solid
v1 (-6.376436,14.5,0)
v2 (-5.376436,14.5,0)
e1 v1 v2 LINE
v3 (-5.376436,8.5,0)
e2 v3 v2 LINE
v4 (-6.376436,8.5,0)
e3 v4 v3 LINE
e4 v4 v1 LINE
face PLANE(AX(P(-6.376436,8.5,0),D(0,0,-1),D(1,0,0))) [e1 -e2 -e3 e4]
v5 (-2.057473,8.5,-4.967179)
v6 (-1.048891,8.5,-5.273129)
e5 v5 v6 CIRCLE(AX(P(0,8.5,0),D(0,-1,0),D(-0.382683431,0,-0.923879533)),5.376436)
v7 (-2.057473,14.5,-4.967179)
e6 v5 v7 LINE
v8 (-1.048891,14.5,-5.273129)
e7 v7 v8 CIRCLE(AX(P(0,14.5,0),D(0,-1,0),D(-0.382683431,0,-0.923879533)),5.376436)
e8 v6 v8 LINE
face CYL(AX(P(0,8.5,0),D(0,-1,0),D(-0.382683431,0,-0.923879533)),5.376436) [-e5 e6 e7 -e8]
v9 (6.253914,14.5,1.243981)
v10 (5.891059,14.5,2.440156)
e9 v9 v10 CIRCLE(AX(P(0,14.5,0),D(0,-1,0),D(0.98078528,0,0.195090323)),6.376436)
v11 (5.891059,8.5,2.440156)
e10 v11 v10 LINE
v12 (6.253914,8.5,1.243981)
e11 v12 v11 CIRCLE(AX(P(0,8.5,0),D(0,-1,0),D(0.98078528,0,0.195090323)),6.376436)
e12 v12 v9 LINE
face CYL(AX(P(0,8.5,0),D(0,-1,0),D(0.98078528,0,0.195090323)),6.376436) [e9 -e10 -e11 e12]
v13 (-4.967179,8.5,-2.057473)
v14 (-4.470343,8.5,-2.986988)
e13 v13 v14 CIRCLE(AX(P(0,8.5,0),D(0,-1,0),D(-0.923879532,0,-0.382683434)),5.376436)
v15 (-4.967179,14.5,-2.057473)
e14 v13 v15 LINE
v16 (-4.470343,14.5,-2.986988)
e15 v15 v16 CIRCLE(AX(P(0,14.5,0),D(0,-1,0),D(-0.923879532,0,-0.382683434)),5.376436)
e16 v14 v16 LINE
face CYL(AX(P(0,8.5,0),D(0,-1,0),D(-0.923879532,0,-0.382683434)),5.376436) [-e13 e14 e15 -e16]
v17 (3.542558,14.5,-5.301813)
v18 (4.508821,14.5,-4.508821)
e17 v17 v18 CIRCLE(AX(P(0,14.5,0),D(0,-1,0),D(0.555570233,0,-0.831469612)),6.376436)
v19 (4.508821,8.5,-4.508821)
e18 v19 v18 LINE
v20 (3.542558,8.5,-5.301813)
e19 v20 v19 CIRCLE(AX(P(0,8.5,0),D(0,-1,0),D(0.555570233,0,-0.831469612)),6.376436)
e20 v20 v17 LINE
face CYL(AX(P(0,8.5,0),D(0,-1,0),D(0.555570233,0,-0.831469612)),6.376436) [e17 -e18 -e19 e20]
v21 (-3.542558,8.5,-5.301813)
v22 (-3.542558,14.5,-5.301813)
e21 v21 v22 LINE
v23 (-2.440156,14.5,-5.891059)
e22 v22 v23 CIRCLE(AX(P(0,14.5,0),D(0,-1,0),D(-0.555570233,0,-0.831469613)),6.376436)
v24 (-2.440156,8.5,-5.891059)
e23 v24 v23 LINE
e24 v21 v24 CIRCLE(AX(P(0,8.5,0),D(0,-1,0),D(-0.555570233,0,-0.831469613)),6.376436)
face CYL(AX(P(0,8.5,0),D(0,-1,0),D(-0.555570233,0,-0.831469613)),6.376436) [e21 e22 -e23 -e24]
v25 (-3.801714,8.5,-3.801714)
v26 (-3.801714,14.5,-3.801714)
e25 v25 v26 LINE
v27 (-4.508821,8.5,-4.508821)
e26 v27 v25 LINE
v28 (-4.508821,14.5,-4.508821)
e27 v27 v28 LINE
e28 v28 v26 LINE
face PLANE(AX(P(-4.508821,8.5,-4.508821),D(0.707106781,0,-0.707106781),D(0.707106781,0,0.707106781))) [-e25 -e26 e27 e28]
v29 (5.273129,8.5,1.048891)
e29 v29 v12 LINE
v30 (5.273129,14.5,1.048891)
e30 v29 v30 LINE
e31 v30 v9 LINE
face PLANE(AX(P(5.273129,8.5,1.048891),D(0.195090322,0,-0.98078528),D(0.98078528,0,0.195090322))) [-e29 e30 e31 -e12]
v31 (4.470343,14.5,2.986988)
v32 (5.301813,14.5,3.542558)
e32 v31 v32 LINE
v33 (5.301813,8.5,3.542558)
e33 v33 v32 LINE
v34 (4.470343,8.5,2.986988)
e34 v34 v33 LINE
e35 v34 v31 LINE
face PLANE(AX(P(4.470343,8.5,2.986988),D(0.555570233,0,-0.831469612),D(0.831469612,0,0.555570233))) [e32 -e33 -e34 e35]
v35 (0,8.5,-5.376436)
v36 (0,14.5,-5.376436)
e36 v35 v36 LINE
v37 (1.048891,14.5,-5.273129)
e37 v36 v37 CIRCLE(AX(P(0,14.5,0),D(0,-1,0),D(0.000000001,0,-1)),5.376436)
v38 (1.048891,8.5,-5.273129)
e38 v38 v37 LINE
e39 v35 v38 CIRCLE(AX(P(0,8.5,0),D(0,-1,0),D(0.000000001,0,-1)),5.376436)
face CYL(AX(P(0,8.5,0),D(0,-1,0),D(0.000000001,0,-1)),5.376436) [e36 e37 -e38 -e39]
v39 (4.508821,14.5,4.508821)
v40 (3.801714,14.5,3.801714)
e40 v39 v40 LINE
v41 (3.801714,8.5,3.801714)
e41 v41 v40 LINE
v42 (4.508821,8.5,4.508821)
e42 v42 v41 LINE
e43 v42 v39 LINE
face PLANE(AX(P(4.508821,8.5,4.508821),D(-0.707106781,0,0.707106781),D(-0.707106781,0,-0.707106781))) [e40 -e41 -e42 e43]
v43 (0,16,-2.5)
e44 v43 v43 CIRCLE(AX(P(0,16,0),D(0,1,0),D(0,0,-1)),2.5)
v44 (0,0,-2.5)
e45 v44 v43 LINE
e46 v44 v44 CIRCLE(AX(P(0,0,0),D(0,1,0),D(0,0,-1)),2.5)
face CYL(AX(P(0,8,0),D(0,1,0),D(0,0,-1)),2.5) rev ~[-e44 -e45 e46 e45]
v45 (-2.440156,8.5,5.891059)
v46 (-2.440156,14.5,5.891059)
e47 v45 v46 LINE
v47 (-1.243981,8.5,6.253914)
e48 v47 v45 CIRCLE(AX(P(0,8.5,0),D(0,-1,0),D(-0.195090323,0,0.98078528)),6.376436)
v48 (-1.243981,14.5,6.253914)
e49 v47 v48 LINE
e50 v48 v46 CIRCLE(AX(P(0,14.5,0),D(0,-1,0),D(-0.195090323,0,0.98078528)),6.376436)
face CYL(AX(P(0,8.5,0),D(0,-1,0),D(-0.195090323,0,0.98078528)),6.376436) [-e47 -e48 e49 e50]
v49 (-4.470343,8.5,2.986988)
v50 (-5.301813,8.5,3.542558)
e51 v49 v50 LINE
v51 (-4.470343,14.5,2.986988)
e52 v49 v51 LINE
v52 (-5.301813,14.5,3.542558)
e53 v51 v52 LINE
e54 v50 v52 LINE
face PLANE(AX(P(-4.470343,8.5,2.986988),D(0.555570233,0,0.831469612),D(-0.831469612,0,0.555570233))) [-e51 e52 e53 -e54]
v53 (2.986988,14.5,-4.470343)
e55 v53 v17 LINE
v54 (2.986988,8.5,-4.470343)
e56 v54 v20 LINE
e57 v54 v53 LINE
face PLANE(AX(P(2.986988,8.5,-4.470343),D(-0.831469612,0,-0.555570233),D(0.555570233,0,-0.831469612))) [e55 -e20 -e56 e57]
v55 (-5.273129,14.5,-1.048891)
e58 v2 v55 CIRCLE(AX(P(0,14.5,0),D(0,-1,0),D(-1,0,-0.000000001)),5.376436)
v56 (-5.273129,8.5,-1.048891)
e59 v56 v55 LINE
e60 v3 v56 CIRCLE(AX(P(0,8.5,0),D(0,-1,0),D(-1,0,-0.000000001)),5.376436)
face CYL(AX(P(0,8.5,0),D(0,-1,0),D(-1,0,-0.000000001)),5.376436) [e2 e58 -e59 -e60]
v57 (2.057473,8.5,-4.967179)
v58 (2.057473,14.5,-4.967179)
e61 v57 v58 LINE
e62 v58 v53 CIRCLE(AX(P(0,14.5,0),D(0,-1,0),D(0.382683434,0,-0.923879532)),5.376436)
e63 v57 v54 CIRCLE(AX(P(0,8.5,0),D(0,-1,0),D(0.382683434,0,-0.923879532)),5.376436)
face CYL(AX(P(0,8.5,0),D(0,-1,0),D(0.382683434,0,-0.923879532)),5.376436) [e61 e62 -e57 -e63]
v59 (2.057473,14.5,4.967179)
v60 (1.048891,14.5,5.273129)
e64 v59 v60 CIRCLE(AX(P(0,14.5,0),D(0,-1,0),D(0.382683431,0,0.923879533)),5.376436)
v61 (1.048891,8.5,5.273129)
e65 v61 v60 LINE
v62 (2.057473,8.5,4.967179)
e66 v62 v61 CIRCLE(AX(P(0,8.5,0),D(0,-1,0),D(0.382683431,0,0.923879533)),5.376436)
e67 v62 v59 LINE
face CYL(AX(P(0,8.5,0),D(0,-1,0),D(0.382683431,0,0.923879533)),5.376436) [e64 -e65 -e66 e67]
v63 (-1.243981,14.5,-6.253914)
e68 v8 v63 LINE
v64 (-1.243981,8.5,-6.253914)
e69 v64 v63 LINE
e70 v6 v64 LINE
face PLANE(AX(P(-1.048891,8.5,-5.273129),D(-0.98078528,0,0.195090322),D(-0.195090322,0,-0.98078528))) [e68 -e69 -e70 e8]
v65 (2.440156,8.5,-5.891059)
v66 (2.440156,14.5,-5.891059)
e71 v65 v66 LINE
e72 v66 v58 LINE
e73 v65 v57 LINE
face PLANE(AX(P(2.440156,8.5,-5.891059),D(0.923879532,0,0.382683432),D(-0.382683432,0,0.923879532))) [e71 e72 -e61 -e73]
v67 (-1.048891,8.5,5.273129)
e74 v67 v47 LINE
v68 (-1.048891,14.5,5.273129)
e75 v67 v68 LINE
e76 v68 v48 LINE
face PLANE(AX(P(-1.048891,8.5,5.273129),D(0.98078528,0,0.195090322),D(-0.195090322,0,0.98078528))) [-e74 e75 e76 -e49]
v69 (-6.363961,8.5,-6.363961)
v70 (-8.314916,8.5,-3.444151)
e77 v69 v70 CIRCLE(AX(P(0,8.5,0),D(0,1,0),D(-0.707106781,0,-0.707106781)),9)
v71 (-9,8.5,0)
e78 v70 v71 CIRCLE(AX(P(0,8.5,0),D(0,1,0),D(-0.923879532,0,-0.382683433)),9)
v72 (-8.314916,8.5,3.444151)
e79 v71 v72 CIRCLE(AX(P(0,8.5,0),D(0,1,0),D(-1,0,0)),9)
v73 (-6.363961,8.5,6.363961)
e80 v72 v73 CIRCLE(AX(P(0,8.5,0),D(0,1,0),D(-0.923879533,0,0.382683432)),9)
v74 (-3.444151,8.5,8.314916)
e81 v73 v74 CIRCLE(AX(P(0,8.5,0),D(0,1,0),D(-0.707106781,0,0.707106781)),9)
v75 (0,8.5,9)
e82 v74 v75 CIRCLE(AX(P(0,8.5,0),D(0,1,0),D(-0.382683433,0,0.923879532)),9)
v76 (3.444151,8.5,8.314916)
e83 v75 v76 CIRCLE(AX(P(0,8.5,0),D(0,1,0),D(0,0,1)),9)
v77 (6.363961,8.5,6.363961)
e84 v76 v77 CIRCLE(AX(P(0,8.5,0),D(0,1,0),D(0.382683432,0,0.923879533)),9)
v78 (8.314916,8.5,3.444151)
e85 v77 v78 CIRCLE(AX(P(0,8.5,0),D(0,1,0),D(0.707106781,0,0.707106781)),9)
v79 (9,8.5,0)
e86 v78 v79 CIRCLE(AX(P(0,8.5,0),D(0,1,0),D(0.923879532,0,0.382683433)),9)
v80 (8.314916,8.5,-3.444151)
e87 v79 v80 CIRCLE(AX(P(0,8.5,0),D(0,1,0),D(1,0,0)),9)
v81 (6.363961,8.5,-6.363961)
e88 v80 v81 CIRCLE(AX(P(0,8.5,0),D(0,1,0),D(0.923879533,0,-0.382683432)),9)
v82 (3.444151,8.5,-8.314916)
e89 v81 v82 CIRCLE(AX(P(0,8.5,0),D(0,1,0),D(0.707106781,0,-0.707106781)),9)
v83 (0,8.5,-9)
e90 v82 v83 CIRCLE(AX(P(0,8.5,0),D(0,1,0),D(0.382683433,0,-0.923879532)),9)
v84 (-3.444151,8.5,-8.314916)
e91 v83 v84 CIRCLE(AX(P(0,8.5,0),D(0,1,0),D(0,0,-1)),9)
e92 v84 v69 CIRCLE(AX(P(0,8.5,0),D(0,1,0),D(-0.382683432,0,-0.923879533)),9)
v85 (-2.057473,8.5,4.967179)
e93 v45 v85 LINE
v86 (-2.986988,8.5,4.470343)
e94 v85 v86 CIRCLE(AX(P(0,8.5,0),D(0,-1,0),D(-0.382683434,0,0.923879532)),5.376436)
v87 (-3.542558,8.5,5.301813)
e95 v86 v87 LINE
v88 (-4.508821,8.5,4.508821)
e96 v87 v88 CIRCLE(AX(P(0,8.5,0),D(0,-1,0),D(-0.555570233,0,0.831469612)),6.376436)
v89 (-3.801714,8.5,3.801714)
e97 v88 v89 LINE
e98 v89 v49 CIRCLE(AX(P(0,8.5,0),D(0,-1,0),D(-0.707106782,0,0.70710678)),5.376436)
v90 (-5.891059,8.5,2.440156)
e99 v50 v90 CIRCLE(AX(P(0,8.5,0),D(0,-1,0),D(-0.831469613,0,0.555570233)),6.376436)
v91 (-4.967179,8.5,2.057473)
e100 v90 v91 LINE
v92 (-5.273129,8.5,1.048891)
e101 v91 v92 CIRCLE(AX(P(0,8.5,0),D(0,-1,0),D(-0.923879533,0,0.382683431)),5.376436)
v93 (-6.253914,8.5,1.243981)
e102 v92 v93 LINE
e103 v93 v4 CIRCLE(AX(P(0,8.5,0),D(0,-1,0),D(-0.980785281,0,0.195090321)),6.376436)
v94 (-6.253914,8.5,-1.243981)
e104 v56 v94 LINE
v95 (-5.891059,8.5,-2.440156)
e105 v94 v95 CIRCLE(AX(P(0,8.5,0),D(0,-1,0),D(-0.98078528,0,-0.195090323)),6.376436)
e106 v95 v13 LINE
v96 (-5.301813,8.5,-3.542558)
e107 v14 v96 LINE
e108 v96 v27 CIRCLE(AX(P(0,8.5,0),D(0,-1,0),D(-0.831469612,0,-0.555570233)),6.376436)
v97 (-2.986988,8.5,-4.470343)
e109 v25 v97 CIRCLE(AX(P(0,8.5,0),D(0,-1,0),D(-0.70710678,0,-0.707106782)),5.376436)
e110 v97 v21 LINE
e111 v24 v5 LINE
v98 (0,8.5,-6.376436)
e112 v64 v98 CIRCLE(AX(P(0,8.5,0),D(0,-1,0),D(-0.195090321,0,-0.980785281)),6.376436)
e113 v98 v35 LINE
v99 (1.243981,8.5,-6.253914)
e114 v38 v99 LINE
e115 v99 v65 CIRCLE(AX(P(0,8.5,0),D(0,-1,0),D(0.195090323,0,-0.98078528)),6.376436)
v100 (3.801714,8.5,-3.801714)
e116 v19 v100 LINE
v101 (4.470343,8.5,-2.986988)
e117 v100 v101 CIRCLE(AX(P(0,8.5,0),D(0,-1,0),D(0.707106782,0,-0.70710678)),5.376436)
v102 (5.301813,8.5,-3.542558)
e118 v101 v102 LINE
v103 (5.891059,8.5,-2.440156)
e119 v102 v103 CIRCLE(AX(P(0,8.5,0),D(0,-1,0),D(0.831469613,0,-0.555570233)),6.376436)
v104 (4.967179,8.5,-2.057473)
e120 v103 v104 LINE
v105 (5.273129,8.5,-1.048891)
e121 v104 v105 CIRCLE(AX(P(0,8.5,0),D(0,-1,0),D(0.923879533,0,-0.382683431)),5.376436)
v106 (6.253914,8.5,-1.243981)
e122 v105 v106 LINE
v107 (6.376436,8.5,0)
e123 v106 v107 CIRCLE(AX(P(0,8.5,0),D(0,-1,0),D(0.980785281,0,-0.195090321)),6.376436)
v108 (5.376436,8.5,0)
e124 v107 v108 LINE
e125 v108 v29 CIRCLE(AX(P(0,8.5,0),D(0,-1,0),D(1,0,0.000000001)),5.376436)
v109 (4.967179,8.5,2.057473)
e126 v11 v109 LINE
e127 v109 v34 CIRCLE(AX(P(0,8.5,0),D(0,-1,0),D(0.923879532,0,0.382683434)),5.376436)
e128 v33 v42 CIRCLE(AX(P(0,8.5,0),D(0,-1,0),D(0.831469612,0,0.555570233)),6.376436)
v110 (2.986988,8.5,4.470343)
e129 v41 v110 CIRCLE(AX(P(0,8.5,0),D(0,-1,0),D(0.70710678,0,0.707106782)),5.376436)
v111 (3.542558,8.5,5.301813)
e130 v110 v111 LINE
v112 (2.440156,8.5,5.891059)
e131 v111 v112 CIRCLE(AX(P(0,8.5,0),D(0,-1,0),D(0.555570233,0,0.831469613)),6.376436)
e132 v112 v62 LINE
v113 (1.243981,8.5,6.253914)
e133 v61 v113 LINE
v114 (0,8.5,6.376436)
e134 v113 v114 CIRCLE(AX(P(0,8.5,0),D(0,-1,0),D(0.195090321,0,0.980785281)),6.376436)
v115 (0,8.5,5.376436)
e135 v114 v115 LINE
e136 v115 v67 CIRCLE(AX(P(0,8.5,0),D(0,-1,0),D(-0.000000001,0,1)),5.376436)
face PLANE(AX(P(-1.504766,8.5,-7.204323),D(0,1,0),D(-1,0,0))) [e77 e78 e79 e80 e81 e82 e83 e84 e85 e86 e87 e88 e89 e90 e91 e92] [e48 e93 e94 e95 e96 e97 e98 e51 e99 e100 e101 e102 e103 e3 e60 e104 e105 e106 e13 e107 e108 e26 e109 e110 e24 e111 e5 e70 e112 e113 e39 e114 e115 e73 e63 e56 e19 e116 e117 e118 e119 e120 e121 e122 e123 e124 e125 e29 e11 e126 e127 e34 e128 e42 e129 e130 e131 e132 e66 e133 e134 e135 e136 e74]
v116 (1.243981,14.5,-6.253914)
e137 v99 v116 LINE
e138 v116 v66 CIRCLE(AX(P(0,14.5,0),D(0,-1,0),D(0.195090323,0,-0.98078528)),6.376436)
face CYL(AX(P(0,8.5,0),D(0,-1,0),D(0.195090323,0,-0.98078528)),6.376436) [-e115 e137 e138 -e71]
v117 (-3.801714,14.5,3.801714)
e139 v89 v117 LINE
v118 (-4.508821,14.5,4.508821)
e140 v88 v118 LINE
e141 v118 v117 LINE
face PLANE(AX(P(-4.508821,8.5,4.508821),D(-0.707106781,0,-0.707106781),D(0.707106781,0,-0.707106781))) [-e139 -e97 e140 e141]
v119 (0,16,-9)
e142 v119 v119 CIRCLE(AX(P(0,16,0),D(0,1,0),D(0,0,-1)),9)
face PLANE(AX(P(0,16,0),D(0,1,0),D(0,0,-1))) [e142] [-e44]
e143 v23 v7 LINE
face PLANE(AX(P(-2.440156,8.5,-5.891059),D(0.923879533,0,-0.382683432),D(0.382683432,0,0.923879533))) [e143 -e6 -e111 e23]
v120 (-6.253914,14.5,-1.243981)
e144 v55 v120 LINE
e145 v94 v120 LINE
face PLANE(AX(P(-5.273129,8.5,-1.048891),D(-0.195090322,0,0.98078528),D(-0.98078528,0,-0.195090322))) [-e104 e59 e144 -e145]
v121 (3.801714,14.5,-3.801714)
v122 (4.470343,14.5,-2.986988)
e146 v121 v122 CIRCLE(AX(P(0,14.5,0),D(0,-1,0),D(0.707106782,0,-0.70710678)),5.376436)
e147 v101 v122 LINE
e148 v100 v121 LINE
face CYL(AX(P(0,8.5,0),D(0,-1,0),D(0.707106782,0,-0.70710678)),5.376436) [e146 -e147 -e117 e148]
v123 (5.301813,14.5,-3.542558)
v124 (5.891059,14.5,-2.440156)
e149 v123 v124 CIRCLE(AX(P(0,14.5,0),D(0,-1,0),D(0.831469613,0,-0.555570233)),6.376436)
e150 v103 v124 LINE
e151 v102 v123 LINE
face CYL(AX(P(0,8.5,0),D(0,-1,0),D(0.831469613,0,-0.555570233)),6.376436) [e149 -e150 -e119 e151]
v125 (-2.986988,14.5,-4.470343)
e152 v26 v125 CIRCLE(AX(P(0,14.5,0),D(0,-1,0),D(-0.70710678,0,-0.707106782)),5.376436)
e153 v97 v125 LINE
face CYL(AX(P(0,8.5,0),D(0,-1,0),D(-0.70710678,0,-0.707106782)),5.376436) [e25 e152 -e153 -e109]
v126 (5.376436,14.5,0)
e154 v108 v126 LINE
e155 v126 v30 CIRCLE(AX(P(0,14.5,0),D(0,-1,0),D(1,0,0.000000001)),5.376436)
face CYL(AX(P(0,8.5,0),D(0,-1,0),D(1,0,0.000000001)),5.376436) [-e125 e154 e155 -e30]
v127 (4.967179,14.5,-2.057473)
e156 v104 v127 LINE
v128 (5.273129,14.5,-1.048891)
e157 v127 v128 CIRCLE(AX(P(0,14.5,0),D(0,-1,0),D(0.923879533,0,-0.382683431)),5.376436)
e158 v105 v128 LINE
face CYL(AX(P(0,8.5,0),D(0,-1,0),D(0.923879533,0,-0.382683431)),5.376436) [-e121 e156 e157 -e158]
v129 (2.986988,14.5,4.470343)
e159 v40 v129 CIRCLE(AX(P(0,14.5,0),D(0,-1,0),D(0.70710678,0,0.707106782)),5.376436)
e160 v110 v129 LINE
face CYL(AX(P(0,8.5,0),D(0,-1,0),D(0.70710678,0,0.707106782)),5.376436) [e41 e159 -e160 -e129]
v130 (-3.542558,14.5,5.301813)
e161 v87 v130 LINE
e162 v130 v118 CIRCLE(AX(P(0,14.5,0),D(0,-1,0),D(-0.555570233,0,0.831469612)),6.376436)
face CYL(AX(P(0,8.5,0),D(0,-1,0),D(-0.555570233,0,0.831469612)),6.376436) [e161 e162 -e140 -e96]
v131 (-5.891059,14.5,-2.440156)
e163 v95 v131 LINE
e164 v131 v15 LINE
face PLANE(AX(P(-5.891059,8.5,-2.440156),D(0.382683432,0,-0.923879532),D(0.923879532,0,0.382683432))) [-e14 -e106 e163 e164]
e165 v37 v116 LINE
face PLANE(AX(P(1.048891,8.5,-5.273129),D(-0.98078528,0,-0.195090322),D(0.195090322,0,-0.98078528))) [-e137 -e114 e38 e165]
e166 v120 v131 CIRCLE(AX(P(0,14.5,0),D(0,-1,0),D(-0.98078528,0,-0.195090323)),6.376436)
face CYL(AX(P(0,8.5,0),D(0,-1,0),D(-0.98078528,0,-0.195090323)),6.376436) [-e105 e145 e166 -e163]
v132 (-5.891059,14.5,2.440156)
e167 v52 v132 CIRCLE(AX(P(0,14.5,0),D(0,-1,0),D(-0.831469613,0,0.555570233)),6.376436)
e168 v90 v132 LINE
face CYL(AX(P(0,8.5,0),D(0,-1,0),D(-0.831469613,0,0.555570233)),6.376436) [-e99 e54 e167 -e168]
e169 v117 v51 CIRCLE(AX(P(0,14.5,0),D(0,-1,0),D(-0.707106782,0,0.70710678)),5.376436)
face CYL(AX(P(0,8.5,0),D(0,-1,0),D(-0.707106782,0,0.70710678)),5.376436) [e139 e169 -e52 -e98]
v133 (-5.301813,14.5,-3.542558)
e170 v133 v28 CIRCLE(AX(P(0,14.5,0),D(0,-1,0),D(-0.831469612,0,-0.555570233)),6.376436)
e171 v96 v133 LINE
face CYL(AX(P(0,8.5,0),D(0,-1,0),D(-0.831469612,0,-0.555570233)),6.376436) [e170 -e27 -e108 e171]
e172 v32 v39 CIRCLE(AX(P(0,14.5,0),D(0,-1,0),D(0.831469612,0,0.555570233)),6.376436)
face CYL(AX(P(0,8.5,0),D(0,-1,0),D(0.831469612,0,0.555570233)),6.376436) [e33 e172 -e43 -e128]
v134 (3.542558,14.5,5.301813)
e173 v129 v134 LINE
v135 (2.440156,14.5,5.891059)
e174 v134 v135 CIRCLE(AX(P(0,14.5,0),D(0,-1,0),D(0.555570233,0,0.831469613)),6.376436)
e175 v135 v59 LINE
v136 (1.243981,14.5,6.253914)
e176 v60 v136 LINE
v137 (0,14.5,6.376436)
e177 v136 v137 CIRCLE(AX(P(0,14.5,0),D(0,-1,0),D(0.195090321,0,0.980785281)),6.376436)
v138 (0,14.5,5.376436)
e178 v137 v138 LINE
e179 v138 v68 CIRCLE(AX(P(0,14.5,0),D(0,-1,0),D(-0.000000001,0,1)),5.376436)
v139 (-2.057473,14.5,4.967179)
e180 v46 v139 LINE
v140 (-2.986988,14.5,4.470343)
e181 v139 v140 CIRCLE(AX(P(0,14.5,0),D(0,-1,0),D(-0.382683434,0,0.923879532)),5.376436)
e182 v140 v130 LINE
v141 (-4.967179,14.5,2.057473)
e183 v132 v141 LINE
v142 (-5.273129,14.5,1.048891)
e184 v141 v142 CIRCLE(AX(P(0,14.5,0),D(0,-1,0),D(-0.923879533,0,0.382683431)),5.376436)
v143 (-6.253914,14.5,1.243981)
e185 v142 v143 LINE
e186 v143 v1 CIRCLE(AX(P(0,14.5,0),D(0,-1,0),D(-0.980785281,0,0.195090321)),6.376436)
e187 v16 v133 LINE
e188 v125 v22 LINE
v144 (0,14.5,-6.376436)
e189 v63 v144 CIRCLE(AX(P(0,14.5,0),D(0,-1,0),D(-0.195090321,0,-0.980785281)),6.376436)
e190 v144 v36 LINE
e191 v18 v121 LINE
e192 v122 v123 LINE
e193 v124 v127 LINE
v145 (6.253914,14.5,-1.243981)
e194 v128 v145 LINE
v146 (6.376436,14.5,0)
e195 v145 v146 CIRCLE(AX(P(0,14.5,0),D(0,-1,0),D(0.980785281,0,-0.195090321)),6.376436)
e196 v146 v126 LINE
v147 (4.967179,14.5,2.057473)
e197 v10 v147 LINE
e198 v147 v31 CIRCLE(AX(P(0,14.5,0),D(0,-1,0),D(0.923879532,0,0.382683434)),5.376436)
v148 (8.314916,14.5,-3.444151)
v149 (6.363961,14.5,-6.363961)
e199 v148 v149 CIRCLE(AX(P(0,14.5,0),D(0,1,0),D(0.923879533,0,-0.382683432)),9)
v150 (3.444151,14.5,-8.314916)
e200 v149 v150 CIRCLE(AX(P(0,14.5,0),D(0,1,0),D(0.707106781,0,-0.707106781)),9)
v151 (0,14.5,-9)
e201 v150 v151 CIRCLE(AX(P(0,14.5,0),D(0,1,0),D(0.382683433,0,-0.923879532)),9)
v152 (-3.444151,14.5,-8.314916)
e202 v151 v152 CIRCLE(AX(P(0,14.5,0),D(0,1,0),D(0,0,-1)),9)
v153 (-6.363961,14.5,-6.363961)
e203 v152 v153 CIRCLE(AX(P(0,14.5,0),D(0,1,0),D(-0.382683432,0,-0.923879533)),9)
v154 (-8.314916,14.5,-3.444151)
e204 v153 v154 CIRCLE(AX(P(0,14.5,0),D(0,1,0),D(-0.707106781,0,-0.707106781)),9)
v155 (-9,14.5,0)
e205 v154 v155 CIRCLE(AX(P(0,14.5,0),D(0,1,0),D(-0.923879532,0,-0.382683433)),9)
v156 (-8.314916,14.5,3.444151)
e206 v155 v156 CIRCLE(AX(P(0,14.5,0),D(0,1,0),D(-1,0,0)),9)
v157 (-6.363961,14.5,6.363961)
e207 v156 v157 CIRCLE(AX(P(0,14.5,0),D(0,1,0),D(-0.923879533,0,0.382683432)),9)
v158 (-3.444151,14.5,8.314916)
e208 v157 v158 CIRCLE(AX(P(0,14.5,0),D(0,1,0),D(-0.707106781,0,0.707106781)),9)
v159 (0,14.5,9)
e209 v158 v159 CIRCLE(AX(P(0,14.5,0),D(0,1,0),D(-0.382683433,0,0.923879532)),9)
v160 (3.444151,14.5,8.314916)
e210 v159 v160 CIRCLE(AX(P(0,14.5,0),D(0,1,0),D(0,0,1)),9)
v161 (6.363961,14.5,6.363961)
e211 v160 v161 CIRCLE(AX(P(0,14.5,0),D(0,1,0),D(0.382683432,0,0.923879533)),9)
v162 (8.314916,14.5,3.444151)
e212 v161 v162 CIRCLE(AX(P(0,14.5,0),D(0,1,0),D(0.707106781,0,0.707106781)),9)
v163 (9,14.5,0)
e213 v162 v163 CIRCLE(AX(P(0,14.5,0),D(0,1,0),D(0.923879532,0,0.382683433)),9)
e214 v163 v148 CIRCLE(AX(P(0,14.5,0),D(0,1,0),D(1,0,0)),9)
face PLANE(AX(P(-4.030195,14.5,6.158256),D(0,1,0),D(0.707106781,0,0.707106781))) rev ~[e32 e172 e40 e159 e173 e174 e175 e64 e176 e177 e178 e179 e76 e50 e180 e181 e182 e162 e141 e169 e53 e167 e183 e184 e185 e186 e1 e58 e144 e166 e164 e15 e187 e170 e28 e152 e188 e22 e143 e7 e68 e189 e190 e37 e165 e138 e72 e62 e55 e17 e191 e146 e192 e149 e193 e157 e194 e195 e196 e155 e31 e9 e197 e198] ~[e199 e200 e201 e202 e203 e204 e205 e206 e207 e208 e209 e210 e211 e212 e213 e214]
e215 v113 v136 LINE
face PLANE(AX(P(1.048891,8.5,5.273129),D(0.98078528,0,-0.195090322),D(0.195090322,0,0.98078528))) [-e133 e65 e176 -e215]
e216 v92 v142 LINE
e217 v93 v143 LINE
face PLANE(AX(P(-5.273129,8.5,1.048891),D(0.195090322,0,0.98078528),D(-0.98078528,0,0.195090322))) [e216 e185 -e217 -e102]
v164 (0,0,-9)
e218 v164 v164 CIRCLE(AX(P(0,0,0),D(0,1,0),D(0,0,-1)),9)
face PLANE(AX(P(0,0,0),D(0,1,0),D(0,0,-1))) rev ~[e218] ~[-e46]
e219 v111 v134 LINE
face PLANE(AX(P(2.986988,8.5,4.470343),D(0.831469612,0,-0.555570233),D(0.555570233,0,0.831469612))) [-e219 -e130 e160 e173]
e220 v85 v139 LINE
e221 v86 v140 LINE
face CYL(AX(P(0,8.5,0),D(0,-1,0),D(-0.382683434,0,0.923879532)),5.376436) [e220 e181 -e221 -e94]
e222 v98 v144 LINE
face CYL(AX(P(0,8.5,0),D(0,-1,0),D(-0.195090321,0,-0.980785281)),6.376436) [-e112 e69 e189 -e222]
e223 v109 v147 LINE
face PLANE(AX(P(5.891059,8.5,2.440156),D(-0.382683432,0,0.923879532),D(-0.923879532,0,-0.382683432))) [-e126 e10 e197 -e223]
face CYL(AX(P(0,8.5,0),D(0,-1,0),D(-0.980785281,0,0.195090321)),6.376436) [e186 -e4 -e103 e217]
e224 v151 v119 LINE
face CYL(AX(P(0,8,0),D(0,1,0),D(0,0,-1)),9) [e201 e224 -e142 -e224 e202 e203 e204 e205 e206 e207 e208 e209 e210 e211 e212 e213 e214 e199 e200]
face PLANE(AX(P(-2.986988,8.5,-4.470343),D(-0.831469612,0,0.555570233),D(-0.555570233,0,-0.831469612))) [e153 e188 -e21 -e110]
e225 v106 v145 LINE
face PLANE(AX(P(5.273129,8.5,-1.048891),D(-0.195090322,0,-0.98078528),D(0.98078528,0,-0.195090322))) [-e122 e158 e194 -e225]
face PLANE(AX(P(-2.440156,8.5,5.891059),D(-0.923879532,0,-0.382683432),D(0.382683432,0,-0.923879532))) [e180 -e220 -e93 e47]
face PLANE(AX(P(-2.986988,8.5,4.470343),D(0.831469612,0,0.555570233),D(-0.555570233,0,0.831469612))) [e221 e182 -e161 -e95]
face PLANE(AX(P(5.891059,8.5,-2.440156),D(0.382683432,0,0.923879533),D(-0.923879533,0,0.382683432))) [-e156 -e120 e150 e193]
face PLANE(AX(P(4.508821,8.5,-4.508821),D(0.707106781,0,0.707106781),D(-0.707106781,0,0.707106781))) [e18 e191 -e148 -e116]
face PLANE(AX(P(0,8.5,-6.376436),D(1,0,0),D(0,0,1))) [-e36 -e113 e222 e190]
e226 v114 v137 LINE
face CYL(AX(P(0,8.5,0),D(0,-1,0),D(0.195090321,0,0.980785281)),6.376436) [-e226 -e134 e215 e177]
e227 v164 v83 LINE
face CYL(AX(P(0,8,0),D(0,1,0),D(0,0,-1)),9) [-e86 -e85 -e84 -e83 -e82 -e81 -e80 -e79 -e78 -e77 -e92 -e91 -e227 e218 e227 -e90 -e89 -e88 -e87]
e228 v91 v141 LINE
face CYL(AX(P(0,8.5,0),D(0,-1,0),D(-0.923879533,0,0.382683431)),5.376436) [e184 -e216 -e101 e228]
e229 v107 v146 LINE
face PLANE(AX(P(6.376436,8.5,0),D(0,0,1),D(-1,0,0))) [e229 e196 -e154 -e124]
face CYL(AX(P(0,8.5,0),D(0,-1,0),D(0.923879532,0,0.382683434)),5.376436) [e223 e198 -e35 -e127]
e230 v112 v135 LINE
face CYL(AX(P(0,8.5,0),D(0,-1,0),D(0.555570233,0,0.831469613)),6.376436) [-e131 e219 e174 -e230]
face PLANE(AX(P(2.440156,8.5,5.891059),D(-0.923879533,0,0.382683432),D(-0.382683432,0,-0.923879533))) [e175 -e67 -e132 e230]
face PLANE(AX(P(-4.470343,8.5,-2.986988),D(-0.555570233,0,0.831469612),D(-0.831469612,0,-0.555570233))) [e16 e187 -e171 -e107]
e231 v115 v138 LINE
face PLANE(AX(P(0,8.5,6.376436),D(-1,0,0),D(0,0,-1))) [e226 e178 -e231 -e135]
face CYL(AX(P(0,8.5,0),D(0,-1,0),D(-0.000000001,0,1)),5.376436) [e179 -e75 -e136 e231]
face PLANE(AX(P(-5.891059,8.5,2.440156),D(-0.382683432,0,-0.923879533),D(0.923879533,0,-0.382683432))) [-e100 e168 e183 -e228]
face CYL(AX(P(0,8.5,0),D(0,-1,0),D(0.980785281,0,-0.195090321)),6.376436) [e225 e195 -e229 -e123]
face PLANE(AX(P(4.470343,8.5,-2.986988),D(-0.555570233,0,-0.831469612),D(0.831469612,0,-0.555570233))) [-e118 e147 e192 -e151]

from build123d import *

# Parameters (mm, degrees)
SKETCH1_W          = 6.5
SKETCH1_H          = 16
CUT_EXTRUDE1_START = -7.5
CUT_EXTRUDE1_DEPTH = 6
CIRPATTERN1_COUNT  = 16


with BuildPart() as part:
    # Sketch1 → Revolve1 (revolve)
    with BuildSketch(Plane.XY, mode=Mode.PRIVATE) as revolve1_sk:
        with Locations((-5.75, 8)):
            Rectangle(SKETCH1_W, SKETCH1_H)
    revolve(revolve1_sk.sketch.rotate(Axis((0, 0, 0), (0, 1, 0)), 270), axis=Axis((0, 0, 0), (0, 1, 0)))

    # Sketch2 → Cut-Extrude1 (cut)
    with BuildSketch(Plane(origin=(0, 16, 0), x_dir=(1, 0, 0), z_dir=(0, 1, 0)).offset(CUT_EXTRUDE1_START)):
        with BuildLine():
            Line((1.048890586, -5.273129068), (1.243980908, -6.253914348))
            ThreePointArc((1.243980908, -6.253914348), (0.625, -6.345731492), (0, -6.376435773))
            Line((0, -6.376435773), (0, -9))
            ThreePointArc((0, -9), (1.755812898, -8.827067524), (3.444150891, -8.314915793))
            Line((3.444150891, -8.314915793), (2.440156328, -5.891058501))
            Line((2.440156328, -5.891058501), (2.057472896, -4.967178969))
            ThreePointArc((2.057472896, -4.967178969), (1.560696923, -5.144928254), (1.048890586, -5.273129068))
        make_face()
    cut_extrude1 = extrude(amount=CUT_EXTRUDE1_DEPTH, mode=Mode.SUBTRACT)

    # CirPattern1: Cut-Extrude1 ×16 about axis
    cirpattern1_axis = Axis((0, 0, 0), (0, 1, 0))
    for i in range(1, CIRPATTERN1_COUNT):
        add(cut_extrude1.rotate(cirpattern1_axis, i * 360 / CIRPATTERN1_COUNT), mode=Mode.SUBTRACT)


solid = part.part
